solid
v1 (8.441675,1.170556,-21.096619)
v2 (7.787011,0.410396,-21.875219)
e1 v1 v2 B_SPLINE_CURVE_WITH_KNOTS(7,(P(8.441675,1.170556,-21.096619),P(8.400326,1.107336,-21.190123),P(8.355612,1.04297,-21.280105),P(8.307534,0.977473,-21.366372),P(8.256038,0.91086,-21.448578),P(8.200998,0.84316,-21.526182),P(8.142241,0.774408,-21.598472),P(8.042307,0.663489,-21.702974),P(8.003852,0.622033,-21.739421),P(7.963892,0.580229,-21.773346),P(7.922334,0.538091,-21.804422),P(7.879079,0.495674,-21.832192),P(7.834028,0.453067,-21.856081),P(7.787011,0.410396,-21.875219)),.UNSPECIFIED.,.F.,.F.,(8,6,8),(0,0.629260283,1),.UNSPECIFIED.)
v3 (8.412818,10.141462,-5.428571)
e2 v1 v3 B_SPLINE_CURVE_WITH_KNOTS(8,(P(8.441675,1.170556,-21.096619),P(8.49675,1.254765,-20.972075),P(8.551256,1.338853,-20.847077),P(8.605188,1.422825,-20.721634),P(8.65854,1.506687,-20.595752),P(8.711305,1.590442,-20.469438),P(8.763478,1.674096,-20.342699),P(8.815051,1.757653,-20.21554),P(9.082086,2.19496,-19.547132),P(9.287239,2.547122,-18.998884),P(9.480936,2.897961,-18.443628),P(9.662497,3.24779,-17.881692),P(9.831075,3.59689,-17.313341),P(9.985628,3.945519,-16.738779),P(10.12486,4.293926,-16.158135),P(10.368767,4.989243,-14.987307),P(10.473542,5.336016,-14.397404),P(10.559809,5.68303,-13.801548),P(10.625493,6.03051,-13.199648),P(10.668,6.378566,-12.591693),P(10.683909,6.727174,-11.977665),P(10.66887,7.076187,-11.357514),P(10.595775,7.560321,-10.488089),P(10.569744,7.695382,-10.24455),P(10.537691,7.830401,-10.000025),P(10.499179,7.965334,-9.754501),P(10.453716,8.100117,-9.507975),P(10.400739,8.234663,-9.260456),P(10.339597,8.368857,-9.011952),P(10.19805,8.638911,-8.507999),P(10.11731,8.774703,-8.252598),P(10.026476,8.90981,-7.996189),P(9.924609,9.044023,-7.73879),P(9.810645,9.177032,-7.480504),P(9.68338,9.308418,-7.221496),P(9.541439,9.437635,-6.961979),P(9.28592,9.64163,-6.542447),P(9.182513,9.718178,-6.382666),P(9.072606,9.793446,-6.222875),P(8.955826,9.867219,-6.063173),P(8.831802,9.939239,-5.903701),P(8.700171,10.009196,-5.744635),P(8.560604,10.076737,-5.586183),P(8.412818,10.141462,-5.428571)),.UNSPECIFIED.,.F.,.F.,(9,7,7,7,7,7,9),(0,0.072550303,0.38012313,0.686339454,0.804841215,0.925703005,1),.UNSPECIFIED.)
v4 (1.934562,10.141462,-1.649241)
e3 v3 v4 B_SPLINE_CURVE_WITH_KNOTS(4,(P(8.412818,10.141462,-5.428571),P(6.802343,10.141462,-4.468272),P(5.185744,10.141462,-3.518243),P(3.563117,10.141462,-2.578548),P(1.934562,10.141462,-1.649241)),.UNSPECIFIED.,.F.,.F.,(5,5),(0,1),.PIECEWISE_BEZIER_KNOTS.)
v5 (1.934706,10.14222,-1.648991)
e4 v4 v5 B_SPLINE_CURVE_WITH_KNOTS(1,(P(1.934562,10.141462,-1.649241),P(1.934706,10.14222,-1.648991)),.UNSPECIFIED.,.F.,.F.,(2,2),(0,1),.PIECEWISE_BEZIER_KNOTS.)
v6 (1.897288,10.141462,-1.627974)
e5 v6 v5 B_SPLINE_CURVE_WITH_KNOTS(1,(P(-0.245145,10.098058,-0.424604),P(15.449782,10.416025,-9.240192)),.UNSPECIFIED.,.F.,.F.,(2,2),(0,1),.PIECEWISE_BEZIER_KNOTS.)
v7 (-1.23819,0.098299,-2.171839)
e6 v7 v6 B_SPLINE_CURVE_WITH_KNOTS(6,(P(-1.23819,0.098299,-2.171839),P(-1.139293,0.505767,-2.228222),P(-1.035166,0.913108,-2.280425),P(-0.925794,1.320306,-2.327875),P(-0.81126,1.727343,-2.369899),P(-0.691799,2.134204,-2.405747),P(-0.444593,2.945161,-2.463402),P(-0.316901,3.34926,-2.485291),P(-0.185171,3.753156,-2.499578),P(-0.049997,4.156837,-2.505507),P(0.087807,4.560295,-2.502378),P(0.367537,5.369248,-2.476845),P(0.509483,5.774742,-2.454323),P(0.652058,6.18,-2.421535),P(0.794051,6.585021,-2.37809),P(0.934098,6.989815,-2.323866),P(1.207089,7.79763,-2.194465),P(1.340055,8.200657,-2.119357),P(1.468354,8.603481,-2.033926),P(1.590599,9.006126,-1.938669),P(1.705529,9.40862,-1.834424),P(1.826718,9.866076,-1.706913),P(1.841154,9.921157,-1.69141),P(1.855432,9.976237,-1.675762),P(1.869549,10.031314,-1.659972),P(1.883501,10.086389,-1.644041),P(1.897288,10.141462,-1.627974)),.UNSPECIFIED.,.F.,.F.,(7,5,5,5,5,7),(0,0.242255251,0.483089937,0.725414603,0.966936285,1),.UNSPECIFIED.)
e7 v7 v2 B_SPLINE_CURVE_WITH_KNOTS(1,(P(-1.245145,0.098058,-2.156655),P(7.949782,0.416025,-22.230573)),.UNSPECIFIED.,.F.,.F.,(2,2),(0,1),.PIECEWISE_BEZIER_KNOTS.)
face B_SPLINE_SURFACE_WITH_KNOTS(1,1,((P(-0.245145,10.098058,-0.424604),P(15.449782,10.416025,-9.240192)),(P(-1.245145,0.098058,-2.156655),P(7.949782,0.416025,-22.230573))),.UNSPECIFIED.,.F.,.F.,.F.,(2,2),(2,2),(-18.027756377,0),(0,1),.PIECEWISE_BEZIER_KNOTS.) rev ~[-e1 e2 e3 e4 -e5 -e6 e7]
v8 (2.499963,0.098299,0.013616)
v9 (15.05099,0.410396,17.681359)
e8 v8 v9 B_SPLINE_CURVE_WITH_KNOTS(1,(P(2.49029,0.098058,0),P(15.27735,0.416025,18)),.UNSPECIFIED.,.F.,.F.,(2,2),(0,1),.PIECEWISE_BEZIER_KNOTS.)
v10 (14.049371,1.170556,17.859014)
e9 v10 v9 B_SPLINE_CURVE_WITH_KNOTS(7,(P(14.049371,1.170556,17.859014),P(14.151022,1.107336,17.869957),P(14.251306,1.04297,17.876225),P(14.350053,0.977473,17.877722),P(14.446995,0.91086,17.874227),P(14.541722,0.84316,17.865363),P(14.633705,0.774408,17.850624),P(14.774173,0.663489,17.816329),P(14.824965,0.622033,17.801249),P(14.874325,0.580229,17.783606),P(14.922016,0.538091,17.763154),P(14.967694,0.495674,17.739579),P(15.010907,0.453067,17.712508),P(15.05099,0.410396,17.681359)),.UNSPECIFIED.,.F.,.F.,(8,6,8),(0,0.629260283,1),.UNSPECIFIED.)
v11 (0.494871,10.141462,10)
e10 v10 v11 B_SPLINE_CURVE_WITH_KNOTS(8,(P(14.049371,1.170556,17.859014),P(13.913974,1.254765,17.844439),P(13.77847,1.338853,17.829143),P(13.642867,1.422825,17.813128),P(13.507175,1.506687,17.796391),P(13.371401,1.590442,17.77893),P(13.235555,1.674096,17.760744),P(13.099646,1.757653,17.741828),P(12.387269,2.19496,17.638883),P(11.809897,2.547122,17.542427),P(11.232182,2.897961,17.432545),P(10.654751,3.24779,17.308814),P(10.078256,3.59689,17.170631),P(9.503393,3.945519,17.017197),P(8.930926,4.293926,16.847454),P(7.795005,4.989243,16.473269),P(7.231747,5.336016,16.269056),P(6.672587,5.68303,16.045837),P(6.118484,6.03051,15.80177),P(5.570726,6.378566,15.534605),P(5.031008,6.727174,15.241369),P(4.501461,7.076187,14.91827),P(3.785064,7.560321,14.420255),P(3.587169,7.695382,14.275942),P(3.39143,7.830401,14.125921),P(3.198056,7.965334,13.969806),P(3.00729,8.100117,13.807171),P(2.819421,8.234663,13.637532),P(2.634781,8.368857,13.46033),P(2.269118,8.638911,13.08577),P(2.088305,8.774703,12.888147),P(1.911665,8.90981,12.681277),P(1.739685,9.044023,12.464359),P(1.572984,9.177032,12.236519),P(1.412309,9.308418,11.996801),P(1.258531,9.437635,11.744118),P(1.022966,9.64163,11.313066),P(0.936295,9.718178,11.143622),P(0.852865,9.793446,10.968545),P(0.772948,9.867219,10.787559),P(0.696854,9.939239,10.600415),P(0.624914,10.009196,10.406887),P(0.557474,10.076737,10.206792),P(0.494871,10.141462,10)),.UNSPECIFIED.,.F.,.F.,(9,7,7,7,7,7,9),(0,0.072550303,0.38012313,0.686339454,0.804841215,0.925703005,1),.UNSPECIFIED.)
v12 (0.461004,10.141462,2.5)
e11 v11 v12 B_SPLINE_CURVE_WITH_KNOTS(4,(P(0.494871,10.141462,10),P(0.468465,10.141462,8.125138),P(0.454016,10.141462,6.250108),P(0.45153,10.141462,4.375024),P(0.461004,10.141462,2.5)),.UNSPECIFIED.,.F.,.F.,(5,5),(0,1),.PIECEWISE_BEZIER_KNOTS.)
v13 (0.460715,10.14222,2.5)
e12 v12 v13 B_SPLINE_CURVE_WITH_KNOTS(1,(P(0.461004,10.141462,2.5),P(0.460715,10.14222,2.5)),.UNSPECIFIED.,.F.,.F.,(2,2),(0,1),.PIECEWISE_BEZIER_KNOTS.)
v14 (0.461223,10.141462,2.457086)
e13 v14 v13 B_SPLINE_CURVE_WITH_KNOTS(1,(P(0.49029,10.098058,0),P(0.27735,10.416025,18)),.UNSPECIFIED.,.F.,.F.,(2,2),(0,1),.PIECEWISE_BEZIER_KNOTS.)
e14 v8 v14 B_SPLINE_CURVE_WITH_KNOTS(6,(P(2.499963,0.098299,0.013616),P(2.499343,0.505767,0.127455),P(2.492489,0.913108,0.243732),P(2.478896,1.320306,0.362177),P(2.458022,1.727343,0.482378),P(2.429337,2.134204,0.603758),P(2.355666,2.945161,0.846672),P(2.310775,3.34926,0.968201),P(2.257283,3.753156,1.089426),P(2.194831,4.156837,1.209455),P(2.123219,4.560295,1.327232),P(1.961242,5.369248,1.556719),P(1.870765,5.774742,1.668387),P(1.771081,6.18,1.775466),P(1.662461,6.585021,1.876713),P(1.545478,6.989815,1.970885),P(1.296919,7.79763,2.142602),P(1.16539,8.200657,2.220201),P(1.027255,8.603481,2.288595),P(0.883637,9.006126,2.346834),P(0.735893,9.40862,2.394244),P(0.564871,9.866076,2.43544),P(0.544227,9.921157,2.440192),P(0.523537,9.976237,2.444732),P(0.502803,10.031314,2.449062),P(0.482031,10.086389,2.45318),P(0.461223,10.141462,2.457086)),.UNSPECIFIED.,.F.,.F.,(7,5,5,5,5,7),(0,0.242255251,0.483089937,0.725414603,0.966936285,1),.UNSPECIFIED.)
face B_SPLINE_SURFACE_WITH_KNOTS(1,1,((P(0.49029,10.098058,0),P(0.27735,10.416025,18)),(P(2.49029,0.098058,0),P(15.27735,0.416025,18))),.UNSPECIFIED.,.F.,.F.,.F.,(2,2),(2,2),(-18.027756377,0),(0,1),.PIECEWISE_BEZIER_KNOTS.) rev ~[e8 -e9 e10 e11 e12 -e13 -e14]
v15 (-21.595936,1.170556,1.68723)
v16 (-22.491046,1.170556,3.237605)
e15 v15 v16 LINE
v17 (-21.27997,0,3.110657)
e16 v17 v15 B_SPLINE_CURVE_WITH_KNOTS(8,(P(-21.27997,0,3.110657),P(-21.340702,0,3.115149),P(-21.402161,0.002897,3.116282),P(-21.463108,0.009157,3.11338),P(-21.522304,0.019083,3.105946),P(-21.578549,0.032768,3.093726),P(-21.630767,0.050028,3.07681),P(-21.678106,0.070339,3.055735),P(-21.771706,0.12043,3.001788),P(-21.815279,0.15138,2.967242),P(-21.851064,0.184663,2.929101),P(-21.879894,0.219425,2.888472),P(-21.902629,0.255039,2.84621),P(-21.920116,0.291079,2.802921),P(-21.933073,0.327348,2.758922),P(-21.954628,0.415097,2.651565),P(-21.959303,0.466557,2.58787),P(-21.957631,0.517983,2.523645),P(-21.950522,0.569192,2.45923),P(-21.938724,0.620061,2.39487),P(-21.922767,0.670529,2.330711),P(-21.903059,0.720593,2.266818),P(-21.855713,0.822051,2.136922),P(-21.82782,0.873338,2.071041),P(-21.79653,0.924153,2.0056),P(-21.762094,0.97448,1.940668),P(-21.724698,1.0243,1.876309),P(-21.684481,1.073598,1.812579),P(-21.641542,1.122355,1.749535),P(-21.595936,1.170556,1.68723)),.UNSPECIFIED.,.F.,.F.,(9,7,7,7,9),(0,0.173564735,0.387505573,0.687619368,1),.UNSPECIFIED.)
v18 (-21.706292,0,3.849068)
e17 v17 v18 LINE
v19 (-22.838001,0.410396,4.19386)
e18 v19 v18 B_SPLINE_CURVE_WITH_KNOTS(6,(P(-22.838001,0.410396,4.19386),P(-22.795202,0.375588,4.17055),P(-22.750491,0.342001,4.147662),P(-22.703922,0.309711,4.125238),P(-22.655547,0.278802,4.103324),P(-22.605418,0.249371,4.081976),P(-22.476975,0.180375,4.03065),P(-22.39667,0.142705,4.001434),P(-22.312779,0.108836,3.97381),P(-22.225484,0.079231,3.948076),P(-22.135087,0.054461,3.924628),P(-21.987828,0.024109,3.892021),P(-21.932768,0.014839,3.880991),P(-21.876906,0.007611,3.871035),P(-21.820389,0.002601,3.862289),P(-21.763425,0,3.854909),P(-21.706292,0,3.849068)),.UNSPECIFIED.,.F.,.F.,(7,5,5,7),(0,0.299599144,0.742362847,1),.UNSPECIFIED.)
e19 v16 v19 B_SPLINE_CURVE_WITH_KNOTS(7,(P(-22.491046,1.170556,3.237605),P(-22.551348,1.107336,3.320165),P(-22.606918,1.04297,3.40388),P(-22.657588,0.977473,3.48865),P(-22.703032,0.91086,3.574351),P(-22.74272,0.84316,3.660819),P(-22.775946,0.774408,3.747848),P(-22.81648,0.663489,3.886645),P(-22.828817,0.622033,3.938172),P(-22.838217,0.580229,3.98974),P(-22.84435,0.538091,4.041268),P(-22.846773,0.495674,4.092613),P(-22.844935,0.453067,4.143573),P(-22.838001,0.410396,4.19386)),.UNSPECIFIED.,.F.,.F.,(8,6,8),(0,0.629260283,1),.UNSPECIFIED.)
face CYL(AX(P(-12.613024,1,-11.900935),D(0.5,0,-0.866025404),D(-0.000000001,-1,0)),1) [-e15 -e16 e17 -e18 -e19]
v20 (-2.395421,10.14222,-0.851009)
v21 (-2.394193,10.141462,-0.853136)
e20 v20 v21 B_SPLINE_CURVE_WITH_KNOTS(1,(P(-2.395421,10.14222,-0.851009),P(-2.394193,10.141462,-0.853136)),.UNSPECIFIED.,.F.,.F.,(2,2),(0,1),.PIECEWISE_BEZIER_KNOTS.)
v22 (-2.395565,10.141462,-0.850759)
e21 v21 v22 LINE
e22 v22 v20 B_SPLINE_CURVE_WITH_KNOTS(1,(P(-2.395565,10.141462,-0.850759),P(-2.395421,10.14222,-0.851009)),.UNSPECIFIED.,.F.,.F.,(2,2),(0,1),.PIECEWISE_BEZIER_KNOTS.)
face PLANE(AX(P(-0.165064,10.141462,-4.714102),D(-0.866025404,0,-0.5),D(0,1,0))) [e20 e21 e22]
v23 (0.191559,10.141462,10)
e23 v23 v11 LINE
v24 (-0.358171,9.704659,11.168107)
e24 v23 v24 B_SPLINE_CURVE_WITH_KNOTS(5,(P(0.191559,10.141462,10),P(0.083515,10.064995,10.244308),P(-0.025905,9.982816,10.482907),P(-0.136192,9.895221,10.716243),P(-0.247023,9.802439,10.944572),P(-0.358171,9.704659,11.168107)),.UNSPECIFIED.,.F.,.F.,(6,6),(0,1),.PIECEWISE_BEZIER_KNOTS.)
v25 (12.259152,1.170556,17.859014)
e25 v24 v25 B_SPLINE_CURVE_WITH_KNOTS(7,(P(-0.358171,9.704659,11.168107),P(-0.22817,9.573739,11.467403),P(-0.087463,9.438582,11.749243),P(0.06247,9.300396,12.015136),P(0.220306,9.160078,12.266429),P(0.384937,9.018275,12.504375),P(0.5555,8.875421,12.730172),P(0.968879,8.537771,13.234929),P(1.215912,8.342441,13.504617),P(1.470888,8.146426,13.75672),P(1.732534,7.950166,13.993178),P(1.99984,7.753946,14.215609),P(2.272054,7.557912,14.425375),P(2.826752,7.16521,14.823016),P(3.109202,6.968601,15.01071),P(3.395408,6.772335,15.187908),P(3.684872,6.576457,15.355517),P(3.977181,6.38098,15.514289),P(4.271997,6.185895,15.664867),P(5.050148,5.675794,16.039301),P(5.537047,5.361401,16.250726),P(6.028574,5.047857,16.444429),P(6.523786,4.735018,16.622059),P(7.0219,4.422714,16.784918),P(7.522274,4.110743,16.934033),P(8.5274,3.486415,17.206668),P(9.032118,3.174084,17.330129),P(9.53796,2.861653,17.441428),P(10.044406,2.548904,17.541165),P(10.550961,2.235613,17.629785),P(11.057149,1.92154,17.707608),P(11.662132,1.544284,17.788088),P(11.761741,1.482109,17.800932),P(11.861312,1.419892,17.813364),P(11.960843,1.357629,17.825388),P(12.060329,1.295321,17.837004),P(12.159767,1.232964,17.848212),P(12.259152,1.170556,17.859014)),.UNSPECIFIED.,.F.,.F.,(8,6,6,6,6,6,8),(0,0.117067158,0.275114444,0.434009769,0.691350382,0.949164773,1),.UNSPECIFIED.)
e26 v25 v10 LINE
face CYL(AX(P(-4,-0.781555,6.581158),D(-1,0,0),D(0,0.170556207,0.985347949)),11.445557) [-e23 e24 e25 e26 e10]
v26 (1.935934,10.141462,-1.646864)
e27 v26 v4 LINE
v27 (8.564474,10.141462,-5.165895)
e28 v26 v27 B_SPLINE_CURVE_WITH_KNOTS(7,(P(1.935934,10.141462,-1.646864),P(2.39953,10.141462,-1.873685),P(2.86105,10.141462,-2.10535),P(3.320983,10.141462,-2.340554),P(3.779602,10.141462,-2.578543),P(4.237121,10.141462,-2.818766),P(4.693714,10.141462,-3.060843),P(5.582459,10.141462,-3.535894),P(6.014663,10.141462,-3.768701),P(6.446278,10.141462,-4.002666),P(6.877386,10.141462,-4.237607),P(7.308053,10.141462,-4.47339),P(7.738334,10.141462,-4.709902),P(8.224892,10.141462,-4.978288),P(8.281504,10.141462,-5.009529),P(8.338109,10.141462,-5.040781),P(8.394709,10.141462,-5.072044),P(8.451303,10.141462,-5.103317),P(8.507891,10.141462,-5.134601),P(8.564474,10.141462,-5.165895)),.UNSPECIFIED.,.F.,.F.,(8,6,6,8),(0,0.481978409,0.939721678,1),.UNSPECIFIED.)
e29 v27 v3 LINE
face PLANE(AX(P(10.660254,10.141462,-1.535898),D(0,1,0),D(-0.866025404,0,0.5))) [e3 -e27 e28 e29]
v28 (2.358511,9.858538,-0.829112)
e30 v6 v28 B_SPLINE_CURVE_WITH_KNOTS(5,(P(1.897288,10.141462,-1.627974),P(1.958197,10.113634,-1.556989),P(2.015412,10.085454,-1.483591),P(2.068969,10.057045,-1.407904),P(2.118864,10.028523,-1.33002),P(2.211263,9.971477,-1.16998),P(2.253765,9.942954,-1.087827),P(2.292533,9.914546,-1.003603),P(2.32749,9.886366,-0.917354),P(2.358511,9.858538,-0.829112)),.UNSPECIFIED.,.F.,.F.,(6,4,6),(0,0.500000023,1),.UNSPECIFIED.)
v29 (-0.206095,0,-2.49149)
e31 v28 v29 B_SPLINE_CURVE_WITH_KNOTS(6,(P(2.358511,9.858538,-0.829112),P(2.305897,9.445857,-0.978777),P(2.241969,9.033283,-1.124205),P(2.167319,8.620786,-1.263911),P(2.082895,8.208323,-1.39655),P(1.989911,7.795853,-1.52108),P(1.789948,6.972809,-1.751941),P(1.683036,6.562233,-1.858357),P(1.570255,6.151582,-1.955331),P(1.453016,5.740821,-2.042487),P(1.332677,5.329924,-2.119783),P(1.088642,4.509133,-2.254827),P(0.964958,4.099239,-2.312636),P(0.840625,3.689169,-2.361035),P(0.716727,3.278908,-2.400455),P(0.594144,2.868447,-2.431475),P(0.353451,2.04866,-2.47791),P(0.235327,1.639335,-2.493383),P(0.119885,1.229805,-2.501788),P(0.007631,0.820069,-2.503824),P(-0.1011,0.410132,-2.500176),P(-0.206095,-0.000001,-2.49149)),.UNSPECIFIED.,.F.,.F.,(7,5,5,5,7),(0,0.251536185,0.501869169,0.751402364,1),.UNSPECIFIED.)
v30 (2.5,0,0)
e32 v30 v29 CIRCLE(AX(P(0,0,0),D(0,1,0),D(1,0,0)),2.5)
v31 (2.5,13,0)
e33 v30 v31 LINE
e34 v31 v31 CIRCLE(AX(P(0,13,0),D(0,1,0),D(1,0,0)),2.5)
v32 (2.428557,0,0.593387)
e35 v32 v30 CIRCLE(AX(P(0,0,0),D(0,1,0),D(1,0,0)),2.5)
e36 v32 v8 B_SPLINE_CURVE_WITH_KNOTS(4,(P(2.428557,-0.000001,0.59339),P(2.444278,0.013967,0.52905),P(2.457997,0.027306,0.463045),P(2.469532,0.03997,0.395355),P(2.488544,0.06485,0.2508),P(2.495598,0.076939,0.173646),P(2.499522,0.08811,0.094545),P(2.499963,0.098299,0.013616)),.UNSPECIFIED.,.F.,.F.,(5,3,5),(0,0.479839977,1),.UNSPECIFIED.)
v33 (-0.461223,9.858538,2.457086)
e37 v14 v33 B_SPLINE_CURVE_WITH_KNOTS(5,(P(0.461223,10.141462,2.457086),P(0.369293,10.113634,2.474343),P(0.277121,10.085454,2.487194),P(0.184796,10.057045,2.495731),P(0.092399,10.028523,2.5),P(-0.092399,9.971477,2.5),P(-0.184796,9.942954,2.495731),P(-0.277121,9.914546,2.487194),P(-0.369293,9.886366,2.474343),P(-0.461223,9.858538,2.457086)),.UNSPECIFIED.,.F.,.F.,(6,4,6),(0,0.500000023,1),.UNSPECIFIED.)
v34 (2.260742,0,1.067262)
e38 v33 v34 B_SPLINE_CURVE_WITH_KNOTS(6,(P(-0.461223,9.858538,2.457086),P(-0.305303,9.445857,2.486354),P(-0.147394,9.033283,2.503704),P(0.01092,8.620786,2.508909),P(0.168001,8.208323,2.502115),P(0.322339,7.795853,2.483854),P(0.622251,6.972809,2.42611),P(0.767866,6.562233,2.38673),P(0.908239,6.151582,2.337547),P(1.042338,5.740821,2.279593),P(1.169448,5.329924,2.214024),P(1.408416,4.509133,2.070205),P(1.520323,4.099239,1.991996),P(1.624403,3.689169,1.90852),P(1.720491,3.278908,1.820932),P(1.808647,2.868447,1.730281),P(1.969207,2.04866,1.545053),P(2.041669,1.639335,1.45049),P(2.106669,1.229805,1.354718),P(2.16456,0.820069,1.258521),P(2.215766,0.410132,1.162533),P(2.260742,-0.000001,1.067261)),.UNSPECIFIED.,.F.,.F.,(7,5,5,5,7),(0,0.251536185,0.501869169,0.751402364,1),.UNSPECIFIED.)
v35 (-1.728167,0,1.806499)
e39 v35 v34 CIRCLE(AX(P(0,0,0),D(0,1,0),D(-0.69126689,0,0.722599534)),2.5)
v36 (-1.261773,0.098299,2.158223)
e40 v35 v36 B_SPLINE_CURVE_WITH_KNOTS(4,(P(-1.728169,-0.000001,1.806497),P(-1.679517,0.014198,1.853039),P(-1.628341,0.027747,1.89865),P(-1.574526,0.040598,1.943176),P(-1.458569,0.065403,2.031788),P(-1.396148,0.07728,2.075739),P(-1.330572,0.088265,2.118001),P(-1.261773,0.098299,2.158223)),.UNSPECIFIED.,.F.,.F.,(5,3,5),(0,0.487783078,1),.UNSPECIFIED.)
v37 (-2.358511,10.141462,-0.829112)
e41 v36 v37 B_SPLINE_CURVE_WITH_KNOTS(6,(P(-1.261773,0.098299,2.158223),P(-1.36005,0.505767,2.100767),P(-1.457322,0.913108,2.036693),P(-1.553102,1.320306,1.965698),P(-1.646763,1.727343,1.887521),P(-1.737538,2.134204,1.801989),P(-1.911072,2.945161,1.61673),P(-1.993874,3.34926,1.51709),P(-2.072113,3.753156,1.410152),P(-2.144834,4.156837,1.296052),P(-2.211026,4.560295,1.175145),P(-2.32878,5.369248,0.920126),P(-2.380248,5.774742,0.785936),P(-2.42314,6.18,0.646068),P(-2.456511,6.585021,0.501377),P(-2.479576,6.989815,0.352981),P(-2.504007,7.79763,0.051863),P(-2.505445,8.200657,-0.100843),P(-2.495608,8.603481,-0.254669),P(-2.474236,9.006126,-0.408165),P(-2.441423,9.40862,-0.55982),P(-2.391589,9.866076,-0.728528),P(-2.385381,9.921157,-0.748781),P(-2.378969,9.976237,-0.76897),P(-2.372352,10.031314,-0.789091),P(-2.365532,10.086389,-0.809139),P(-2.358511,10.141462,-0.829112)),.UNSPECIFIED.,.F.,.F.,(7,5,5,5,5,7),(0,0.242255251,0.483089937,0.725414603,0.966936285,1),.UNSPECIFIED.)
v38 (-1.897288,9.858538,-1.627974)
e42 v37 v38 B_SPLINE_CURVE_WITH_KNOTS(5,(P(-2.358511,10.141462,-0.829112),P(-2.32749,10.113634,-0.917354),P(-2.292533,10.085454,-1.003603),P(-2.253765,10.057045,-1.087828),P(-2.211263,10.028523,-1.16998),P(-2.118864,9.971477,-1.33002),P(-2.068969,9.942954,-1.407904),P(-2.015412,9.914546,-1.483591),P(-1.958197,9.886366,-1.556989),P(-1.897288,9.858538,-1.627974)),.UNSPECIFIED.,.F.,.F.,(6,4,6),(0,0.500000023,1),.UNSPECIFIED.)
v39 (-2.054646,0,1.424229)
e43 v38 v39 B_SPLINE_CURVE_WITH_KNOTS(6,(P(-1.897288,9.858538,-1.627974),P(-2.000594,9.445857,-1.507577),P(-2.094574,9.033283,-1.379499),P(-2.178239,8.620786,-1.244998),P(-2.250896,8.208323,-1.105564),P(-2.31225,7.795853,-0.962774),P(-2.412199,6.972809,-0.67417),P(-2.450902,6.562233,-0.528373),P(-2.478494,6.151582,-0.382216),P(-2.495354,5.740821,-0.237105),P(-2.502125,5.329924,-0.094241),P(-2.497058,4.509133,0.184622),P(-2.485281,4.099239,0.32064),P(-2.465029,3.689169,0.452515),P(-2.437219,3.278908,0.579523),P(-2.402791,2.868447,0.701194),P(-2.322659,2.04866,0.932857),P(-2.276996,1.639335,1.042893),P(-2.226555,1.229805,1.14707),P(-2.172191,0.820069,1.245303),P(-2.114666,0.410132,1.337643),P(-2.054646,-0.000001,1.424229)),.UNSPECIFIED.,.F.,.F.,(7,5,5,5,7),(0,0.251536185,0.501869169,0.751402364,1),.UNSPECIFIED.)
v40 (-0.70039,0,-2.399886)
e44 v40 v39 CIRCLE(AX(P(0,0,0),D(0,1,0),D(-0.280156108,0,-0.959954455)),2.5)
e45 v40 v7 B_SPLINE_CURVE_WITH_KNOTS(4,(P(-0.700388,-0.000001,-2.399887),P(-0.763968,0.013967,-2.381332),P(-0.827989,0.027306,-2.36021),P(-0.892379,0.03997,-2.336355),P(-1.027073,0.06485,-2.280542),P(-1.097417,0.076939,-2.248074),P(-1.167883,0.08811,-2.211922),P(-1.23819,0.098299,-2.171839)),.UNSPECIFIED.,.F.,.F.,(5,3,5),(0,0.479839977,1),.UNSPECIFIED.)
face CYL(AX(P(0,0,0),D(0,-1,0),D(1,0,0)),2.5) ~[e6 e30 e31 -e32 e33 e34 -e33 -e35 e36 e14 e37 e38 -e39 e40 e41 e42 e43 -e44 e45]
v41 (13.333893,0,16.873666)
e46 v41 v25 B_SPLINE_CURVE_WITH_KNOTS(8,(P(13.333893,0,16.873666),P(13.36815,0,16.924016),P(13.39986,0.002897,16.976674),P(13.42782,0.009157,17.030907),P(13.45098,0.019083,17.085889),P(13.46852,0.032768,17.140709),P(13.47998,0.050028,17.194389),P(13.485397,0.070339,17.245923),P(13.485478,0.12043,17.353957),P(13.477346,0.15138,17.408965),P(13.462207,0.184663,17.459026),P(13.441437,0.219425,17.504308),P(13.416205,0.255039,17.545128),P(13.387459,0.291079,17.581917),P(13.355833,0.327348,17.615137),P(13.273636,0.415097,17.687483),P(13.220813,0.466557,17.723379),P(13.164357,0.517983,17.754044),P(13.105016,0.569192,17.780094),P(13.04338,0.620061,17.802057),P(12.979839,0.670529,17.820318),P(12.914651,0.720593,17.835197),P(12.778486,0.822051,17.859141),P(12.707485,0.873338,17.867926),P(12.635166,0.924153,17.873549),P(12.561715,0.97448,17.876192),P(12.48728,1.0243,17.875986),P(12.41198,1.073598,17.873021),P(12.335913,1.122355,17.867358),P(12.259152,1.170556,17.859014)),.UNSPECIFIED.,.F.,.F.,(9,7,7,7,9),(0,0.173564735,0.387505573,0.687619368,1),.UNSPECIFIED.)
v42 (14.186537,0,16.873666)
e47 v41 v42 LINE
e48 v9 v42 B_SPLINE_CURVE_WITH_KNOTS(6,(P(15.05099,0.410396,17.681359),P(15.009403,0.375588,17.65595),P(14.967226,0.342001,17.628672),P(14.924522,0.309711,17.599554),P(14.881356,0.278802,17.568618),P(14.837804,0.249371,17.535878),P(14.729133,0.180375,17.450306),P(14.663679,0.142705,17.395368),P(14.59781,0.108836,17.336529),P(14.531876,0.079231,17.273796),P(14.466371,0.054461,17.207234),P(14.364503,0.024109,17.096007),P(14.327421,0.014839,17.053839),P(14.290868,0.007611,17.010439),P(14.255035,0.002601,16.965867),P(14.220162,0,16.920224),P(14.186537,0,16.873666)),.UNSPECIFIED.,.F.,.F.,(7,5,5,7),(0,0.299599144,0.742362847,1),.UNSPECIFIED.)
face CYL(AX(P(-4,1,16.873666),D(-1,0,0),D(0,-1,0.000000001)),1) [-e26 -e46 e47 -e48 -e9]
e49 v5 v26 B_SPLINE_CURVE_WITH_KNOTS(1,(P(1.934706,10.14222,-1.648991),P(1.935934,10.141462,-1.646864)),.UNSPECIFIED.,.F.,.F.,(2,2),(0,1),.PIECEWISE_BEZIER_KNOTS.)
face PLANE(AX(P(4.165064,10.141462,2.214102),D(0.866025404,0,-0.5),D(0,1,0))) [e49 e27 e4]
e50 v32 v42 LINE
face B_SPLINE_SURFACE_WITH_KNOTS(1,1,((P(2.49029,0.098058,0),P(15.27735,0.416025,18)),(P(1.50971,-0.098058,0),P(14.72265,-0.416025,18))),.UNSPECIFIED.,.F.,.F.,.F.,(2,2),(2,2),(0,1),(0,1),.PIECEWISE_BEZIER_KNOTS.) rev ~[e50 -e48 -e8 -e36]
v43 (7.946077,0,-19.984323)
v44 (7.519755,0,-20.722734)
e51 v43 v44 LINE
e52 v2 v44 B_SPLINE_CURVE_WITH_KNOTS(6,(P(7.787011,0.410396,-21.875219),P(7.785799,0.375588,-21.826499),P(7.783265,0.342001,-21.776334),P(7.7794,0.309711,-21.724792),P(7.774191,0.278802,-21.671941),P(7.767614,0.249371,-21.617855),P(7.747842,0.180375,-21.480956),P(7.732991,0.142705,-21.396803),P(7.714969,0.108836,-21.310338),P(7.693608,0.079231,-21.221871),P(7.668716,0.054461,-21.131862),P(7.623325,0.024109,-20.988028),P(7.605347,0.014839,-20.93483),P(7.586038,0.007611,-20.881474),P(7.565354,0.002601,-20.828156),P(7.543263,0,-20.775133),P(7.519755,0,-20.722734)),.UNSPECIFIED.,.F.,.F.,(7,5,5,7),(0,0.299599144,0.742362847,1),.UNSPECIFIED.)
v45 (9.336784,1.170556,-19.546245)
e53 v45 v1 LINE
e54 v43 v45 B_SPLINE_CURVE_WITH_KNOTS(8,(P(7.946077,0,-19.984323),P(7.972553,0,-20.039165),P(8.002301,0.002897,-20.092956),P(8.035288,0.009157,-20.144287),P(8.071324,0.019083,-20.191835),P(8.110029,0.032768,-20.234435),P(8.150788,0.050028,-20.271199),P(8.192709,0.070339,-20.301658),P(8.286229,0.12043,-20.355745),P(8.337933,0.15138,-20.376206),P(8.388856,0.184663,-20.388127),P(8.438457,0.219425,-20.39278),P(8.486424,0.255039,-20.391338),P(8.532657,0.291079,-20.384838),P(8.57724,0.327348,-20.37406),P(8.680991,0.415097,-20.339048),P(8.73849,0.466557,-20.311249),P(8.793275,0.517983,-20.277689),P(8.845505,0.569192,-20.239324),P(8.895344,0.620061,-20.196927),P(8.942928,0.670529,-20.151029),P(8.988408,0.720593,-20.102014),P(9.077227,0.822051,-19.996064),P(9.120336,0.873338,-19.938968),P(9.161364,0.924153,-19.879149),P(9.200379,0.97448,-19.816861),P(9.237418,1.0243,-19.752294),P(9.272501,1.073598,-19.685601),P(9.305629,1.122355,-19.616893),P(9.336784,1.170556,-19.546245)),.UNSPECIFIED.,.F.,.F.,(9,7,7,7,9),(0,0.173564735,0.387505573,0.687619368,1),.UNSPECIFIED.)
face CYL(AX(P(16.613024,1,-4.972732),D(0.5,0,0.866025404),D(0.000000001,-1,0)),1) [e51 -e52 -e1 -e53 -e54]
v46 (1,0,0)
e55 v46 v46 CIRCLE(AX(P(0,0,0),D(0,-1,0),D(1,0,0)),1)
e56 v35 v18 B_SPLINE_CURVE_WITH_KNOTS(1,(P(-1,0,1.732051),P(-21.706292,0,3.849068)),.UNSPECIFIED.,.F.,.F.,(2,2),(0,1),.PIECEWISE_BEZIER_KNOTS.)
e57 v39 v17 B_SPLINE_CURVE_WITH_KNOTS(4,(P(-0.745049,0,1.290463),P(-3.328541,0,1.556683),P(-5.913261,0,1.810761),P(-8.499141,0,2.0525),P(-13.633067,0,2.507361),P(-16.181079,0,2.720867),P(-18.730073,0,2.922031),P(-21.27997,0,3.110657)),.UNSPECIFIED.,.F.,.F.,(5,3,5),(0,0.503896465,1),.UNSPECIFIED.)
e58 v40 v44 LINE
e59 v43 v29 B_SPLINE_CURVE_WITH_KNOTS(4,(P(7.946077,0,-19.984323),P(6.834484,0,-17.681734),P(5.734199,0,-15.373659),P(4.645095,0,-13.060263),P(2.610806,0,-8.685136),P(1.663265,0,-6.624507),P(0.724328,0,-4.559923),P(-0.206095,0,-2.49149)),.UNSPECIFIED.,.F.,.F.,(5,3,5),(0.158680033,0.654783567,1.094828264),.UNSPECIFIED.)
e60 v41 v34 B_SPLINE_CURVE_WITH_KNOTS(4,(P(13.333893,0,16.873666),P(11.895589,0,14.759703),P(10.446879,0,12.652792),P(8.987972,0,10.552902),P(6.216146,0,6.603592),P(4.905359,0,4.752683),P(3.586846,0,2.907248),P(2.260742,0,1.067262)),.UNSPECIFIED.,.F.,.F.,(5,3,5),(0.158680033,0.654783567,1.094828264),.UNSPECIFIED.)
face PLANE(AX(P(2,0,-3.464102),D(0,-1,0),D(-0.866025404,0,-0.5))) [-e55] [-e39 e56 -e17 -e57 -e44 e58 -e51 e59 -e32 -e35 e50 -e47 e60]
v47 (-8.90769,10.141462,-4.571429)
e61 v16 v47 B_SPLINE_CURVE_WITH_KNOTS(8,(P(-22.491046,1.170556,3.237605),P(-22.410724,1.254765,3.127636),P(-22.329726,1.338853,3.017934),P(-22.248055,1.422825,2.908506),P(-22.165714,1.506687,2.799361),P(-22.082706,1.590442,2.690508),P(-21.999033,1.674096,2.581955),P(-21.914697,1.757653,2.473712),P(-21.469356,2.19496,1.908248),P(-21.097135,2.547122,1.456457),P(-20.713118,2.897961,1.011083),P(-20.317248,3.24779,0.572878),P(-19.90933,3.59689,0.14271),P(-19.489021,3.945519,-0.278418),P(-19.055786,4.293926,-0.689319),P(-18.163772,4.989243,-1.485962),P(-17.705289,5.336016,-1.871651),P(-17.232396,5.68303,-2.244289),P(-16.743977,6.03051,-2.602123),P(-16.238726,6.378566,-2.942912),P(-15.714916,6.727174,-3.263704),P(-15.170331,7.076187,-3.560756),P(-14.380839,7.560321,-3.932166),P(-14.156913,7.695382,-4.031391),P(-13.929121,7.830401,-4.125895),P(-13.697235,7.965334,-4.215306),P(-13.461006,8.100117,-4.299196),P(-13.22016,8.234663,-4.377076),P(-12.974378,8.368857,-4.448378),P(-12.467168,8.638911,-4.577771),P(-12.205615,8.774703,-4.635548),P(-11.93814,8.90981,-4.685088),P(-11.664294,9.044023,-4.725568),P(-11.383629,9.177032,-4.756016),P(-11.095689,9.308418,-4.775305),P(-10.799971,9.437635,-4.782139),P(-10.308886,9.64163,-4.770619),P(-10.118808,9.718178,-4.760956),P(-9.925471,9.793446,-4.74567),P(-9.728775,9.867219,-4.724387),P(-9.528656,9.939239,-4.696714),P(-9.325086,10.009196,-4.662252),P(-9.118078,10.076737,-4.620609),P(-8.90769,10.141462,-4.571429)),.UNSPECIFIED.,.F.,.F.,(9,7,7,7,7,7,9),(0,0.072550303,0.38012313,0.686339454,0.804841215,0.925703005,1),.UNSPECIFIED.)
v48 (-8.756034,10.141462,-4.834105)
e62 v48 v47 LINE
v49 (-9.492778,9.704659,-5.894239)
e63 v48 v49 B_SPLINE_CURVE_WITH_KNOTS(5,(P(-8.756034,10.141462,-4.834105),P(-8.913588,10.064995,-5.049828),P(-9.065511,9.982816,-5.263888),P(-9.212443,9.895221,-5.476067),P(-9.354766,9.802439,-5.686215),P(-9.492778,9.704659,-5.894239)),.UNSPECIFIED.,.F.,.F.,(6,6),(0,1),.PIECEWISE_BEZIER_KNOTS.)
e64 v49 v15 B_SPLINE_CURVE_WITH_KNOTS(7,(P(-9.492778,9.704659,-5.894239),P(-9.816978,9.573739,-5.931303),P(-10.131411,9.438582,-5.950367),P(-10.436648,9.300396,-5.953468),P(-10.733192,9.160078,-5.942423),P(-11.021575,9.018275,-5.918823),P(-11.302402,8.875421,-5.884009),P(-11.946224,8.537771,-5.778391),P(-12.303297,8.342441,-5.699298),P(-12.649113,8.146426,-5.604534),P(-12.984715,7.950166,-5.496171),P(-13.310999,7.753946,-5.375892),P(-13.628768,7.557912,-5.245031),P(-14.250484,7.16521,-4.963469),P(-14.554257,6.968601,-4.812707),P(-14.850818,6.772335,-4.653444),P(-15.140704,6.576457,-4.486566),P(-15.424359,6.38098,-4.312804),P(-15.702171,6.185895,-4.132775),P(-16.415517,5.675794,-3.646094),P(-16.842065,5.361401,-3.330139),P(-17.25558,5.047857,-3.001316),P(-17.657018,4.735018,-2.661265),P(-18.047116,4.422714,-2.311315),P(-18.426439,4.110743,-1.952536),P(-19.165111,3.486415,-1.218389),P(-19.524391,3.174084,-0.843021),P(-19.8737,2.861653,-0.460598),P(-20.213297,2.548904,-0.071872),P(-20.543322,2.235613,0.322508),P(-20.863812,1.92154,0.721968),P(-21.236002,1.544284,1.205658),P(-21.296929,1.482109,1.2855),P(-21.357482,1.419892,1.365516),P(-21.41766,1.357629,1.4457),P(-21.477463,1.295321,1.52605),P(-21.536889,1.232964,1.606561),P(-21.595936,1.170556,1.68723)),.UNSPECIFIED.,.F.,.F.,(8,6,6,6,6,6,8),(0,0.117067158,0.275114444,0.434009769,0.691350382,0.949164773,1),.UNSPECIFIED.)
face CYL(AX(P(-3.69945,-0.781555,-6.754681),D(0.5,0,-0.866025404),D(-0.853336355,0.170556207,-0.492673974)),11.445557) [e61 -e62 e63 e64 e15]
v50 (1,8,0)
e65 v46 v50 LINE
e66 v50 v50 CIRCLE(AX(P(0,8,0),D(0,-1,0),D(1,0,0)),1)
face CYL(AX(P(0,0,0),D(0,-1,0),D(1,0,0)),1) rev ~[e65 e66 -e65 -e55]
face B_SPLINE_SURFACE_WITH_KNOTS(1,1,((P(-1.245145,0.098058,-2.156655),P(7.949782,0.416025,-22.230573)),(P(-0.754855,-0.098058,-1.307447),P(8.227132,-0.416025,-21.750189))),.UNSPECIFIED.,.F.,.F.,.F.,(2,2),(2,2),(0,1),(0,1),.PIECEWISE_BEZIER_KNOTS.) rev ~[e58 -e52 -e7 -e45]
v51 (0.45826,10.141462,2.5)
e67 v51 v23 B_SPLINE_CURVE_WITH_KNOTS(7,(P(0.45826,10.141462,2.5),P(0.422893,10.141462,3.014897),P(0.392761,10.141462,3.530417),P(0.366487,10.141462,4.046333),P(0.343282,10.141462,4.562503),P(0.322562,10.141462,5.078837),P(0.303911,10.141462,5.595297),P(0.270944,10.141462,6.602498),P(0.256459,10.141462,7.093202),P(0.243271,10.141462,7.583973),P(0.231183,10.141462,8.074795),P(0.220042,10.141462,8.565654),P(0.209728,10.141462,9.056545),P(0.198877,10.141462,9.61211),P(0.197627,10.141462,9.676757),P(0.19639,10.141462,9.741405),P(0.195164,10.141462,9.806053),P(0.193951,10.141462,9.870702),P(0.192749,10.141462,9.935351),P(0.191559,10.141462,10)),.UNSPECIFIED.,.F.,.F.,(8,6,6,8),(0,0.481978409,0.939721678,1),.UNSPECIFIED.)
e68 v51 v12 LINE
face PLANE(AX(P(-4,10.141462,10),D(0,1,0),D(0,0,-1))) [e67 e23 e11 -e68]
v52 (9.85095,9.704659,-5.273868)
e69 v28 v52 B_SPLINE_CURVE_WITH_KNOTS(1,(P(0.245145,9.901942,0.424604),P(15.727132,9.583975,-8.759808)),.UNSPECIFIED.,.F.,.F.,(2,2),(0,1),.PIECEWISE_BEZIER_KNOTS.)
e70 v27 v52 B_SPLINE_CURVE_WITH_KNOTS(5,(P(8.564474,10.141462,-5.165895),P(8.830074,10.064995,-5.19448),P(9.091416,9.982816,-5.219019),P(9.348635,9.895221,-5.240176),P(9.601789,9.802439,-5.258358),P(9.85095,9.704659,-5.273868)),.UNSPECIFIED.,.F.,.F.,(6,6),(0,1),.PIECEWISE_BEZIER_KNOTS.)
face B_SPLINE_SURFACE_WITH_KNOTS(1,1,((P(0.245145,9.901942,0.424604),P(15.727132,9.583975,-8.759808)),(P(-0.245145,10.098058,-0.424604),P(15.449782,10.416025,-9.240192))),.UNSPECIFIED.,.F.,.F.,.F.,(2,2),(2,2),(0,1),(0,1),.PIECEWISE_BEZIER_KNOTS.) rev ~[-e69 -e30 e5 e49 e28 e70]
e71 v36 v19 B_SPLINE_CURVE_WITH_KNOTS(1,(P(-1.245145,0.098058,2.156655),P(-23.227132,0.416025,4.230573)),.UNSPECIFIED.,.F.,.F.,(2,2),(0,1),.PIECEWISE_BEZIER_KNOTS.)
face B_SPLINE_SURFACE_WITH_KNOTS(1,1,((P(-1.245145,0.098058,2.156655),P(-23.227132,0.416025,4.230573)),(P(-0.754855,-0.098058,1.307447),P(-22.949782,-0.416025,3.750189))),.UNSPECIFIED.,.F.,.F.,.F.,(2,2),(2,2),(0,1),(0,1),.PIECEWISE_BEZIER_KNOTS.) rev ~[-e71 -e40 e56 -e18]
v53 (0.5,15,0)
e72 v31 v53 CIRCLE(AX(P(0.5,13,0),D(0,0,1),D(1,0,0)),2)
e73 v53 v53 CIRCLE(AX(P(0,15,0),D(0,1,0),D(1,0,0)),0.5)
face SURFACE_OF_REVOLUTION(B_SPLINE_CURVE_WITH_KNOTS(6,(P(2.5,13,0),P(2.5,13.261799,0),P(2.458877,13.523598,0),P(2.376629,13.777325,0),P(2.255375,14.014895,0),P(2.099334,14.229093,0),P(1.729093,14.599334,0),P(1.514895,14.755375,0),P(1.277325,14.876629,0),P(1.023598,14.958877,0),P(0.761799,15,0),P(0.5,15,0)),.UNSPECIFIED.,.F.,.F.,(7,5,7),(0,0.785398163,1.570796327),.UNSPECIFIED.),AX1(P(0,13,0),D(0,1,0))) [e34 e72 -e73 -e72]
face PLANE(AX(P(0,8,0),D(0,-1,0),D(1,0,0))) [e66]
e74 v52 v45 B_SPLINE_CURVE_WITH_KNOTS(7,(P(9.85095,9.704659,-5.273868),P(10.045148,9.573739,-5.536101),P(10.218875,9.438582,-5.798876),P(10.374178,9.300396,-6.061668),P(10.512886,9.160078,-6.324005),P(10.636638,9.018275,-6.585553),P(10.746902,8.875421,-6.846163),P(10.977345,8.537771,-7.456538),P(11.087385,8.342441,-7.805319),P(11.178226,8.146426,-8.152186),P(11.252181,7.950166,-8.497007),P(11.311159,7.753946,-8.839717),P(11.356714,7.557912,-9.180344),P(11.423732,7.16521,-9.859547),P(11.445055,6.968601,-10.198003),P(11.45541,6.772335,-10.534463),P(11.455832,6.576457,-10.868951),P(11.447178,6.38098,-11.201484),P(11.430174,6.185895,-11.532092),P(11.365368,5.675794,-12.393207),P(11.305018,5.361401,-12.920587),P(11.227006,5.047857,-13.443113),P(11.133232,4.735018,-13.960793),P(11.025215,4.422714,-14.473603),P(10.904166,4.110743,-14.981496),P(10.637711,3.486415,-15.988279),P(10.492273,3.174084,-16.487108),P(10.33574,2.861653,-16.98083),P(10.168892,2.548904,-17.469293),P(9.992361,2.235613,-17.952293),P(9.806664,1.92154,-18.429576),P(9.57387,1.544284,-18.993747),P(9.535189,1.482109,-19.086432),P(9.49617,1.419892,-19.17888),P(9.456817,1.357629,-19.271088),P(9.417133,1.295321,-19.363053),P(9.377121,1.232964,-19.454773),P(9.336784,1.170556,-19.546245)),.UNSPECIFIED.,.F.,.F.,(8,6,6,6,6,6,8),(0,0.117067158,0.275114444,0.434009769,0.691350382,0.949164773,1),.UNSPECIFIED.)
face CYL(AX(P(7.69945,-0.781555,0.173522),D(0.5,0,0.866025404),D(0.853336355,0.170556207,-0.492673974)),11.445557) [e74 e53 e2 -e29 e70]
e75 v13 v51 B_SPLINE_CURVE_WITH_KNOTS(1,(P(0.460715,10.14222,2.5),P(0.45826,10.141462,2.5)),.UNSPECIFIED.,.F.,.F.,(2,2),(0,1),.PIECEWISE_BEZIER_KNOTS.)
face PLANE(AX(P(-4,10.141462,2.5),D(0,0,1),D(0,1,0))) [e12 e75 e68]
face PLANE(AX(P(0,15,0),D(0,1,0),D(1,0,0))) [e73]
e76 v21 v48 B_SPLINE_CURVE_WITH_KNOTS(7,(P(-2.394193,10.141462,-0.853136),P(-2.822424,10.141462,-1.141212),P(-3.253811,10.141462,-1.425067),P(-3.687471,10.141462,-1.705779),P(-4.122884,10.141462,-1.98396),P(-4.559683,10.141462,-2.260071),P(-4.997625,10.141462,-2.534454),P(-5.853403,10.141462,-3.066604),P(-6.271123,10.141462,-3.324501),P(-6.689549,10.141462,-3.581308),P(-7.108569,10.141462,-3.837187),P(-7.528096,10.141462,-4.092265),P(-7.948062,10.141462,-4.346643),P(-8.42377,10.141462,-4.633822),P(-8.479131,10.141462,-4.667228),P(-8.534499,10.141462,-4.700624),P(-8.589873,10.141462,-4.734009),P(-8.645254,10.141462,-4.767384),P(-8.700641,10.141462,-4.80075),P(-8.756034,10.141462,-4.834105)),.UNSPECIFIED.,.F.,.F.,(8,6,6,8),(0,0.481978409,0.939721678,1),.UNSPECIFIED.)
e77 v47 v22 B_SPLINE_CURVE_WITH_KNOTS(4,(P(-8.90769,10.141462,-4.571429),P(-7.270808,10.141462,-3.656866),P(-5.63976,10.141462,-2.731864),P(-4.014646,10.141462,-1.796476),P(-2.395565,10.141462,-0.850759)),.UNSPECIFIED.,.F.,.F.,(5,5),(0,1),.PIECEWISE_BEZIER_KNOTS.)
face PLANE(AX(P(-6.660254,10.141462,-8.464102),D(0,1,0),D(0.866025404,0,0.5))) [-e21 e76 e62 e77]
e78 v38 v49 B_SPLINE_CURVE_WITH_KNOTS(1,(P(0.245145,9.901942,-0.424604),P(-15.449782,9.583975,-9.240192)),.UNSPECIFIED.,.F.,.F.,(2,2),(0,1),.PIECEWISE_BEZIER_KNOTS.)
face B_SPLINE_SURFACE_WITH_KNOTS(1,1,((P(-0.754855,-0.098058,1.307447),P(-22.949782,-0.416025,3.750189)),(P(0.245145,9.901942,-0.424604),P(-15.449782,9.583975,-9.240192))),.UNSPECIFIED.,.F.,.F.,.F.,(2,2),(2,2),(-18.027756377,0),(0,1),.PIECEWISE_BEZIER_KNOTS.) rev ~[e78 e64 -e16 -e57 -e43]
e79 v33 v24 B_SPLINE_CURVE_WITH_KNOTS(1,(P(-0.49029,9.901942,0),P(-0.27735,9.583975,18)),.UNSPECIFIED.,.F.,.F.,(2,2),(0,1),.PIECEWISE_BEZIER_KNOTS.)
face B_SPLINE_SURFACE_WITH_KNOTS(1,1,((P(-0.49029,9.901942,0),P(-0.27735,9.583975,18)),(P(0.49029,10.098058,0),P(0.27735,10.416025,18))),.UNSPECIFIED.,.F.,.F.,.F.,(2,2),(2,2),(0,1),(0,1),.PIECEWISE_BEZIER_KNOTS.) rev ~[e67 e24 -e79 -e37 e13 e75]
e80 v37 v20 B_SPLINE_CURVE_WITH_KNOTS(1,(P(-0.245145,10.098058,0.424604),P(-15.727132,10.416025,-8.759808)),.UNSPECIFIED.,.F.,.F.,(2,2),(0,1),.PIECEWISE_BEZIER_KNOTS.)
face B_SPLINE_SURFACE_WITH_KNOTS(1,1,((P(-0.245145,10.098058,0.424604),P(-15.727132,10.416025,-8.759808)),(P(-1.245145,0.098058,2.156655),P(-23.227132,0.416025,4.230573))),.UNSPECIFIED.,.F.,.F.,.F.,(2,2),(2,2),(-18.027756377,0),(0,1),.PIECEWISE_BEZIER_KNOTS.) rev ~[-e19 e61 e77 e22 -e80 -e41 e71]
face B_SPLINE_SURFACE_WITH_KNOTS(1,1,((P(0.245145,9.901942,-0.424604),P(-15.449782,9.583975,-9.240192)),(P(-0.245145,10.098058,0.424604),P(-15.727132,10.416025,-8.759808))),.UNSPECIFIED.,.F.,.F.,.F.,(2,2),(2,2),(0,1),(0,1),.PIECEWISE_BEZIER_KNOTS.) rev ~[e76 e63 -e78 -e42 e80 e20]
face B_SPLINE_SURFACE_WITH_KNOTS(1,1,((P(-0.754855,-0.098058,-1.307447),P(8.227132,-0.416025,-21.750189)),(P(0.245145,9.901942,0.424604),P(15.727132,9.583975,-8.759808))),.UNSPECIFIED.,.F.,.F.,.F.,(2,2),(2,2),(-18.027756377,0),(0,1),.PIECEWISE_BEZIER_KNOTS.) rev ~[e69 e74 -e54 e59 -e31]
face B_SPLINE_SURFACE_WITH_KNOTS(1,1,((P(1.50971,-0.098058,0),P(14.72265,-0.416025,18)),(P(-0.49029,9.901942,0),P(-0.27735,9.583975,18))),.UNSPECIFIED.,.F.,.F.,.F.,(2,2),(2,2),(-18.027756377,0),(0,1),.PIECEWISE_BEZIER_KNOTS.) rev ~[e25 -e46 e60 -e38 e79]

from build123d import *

# Parameters (mm, degrees)
SKETCH1_R           = 2.5
BOSS_EXTRUDE1_DEPTH = 15
CUT_EXTRUDE1_START  = -4
CUT_EXTRUDE1_DEPTH  = 24
CIRPATTERN1_COUNT   = 3
SKETCH5_R           = 1
CUT_EXTRUDE2_DEPTH  = 8
FILLET1_R           = 2


with BuildPart() as part:
    # Sketch1 → Boss-Extrude1 (new body)
    with BuildSketch(Plane(origin=(0, 0, 0), x_dir=(1, 0, 0), z_dir=(0, 1, 0))):
        Circle(SKETCH1_R)
    extrude(amount=BOSS_EXTRUDE1_DEPTH)

    # Sketch2 → Loft1 section 0
    with BuildSketch(Plane.XY):
        with BuildLine():
            Line((-0.490290338, 9.901941932), (0.490290338, 10.098058068))
            Line((0.490290338, 10.098058068), (2.490290338, 0.098058068))
            Line((2.490290338, 0.098058068), (1.509709662, -0.098058068))
            Line((1.509709662, -0.098058068), (-0.490290338, 9.901941932))
        make_face()
    # Sketch3 → Loft1 section 1
    with BuildSketch(Plane.XY.offset(18)):
        with BuildLine():
            Line((0.277350098, 10.416025147), (-0.277350098, 9.583974853))
            Line((-0.277350098, 9.583974853), (14.722649902, -0.416025147))
            Line((14.722649902, -0.416025147), (15.277350098, 0.416025147))
            Line((15.277350098, 0.416025147), (0.277350098, 10.416025147))
        make_face()
    loft1 = loft()

    # Sketch4 → Cut-Extrude1 (cut)
    with BuildSketch(Plane(origin=(0, 0, 0), x_dir=(0, 0, -1), z_dir=(1, 0, 0)).offset(CUT_EXTRUDE1_START)):
        with BuildLine():
            Line((-2.5, 0), (-16.873666391, 0))
            ThreePointArc((-16.873666391, 0), (-17.638701098, 0.35601095), (-17.85901434, 1.170556207))
            ThreePointArc((-17.85901434, 1.170556207), (-15.190311544, 6.760544166), (-10, 10.141462099))
            Line((-10, 10.141462099), (-2.5, 10.141462099))
            Line((-2.5, 10.141462099), (-2.5, 10.760596561))
            Line((-2.5, 10.760596561), (-20.212640045, 10.760596561))
            Line((-20.212640045, 10.760596561), (-20.212640045, -1.946882985))
            Line((-20.212640045, -1.946882985), (-2.5, -1.111727068))
            Line((-2.5, -1.111727068), (0, -1.111727068))
            Line((0, -1.111727068), (0, 0))
            Line((0, 0), (-2.5, 0))
        make_face()
    cut_extrude1 = extrude(amount=CUT_EXTRUDE1_DEPTH, mode=Mode.SUBTRACT)

    # CirPattern1: Loft1, Cut-Extrude1 ×3 about axis
    cirpattern1_axis = Axis((0, 15, 0), (0, -1, 0))
    add([loft1.rotate(cirpattern1_axis, i * 360 / CIRPATTERN1_COUNT) for i in range(1, CIRPATTERN1_COUNT)])
    add([cut_extrude1.rotate(cirpattern1_axis, i * 360 / CIRPATTERN1_COUNT) for i in range(1, CIRPATTERN1_COUNT)], mode=Mode.SUBTRACT)

    # Sketch5 → Cut-Extrude2 (cut)
    with BuildSketch(Plane.XZ):
        Circle(SKETCH5_R)
    extrude(amount=-CUT_EXTRUDE2_DEPTH, mode=Mode.SUBTRACT)

    # Fillet1
    fillet1_edges = [part.edges().sort_by_distance(p)[0] for p in [
        (-2.5, 15, 0),
    ]]
    fillet(fillet1_edges, radius=FILLET1_R)


solid = part.part
